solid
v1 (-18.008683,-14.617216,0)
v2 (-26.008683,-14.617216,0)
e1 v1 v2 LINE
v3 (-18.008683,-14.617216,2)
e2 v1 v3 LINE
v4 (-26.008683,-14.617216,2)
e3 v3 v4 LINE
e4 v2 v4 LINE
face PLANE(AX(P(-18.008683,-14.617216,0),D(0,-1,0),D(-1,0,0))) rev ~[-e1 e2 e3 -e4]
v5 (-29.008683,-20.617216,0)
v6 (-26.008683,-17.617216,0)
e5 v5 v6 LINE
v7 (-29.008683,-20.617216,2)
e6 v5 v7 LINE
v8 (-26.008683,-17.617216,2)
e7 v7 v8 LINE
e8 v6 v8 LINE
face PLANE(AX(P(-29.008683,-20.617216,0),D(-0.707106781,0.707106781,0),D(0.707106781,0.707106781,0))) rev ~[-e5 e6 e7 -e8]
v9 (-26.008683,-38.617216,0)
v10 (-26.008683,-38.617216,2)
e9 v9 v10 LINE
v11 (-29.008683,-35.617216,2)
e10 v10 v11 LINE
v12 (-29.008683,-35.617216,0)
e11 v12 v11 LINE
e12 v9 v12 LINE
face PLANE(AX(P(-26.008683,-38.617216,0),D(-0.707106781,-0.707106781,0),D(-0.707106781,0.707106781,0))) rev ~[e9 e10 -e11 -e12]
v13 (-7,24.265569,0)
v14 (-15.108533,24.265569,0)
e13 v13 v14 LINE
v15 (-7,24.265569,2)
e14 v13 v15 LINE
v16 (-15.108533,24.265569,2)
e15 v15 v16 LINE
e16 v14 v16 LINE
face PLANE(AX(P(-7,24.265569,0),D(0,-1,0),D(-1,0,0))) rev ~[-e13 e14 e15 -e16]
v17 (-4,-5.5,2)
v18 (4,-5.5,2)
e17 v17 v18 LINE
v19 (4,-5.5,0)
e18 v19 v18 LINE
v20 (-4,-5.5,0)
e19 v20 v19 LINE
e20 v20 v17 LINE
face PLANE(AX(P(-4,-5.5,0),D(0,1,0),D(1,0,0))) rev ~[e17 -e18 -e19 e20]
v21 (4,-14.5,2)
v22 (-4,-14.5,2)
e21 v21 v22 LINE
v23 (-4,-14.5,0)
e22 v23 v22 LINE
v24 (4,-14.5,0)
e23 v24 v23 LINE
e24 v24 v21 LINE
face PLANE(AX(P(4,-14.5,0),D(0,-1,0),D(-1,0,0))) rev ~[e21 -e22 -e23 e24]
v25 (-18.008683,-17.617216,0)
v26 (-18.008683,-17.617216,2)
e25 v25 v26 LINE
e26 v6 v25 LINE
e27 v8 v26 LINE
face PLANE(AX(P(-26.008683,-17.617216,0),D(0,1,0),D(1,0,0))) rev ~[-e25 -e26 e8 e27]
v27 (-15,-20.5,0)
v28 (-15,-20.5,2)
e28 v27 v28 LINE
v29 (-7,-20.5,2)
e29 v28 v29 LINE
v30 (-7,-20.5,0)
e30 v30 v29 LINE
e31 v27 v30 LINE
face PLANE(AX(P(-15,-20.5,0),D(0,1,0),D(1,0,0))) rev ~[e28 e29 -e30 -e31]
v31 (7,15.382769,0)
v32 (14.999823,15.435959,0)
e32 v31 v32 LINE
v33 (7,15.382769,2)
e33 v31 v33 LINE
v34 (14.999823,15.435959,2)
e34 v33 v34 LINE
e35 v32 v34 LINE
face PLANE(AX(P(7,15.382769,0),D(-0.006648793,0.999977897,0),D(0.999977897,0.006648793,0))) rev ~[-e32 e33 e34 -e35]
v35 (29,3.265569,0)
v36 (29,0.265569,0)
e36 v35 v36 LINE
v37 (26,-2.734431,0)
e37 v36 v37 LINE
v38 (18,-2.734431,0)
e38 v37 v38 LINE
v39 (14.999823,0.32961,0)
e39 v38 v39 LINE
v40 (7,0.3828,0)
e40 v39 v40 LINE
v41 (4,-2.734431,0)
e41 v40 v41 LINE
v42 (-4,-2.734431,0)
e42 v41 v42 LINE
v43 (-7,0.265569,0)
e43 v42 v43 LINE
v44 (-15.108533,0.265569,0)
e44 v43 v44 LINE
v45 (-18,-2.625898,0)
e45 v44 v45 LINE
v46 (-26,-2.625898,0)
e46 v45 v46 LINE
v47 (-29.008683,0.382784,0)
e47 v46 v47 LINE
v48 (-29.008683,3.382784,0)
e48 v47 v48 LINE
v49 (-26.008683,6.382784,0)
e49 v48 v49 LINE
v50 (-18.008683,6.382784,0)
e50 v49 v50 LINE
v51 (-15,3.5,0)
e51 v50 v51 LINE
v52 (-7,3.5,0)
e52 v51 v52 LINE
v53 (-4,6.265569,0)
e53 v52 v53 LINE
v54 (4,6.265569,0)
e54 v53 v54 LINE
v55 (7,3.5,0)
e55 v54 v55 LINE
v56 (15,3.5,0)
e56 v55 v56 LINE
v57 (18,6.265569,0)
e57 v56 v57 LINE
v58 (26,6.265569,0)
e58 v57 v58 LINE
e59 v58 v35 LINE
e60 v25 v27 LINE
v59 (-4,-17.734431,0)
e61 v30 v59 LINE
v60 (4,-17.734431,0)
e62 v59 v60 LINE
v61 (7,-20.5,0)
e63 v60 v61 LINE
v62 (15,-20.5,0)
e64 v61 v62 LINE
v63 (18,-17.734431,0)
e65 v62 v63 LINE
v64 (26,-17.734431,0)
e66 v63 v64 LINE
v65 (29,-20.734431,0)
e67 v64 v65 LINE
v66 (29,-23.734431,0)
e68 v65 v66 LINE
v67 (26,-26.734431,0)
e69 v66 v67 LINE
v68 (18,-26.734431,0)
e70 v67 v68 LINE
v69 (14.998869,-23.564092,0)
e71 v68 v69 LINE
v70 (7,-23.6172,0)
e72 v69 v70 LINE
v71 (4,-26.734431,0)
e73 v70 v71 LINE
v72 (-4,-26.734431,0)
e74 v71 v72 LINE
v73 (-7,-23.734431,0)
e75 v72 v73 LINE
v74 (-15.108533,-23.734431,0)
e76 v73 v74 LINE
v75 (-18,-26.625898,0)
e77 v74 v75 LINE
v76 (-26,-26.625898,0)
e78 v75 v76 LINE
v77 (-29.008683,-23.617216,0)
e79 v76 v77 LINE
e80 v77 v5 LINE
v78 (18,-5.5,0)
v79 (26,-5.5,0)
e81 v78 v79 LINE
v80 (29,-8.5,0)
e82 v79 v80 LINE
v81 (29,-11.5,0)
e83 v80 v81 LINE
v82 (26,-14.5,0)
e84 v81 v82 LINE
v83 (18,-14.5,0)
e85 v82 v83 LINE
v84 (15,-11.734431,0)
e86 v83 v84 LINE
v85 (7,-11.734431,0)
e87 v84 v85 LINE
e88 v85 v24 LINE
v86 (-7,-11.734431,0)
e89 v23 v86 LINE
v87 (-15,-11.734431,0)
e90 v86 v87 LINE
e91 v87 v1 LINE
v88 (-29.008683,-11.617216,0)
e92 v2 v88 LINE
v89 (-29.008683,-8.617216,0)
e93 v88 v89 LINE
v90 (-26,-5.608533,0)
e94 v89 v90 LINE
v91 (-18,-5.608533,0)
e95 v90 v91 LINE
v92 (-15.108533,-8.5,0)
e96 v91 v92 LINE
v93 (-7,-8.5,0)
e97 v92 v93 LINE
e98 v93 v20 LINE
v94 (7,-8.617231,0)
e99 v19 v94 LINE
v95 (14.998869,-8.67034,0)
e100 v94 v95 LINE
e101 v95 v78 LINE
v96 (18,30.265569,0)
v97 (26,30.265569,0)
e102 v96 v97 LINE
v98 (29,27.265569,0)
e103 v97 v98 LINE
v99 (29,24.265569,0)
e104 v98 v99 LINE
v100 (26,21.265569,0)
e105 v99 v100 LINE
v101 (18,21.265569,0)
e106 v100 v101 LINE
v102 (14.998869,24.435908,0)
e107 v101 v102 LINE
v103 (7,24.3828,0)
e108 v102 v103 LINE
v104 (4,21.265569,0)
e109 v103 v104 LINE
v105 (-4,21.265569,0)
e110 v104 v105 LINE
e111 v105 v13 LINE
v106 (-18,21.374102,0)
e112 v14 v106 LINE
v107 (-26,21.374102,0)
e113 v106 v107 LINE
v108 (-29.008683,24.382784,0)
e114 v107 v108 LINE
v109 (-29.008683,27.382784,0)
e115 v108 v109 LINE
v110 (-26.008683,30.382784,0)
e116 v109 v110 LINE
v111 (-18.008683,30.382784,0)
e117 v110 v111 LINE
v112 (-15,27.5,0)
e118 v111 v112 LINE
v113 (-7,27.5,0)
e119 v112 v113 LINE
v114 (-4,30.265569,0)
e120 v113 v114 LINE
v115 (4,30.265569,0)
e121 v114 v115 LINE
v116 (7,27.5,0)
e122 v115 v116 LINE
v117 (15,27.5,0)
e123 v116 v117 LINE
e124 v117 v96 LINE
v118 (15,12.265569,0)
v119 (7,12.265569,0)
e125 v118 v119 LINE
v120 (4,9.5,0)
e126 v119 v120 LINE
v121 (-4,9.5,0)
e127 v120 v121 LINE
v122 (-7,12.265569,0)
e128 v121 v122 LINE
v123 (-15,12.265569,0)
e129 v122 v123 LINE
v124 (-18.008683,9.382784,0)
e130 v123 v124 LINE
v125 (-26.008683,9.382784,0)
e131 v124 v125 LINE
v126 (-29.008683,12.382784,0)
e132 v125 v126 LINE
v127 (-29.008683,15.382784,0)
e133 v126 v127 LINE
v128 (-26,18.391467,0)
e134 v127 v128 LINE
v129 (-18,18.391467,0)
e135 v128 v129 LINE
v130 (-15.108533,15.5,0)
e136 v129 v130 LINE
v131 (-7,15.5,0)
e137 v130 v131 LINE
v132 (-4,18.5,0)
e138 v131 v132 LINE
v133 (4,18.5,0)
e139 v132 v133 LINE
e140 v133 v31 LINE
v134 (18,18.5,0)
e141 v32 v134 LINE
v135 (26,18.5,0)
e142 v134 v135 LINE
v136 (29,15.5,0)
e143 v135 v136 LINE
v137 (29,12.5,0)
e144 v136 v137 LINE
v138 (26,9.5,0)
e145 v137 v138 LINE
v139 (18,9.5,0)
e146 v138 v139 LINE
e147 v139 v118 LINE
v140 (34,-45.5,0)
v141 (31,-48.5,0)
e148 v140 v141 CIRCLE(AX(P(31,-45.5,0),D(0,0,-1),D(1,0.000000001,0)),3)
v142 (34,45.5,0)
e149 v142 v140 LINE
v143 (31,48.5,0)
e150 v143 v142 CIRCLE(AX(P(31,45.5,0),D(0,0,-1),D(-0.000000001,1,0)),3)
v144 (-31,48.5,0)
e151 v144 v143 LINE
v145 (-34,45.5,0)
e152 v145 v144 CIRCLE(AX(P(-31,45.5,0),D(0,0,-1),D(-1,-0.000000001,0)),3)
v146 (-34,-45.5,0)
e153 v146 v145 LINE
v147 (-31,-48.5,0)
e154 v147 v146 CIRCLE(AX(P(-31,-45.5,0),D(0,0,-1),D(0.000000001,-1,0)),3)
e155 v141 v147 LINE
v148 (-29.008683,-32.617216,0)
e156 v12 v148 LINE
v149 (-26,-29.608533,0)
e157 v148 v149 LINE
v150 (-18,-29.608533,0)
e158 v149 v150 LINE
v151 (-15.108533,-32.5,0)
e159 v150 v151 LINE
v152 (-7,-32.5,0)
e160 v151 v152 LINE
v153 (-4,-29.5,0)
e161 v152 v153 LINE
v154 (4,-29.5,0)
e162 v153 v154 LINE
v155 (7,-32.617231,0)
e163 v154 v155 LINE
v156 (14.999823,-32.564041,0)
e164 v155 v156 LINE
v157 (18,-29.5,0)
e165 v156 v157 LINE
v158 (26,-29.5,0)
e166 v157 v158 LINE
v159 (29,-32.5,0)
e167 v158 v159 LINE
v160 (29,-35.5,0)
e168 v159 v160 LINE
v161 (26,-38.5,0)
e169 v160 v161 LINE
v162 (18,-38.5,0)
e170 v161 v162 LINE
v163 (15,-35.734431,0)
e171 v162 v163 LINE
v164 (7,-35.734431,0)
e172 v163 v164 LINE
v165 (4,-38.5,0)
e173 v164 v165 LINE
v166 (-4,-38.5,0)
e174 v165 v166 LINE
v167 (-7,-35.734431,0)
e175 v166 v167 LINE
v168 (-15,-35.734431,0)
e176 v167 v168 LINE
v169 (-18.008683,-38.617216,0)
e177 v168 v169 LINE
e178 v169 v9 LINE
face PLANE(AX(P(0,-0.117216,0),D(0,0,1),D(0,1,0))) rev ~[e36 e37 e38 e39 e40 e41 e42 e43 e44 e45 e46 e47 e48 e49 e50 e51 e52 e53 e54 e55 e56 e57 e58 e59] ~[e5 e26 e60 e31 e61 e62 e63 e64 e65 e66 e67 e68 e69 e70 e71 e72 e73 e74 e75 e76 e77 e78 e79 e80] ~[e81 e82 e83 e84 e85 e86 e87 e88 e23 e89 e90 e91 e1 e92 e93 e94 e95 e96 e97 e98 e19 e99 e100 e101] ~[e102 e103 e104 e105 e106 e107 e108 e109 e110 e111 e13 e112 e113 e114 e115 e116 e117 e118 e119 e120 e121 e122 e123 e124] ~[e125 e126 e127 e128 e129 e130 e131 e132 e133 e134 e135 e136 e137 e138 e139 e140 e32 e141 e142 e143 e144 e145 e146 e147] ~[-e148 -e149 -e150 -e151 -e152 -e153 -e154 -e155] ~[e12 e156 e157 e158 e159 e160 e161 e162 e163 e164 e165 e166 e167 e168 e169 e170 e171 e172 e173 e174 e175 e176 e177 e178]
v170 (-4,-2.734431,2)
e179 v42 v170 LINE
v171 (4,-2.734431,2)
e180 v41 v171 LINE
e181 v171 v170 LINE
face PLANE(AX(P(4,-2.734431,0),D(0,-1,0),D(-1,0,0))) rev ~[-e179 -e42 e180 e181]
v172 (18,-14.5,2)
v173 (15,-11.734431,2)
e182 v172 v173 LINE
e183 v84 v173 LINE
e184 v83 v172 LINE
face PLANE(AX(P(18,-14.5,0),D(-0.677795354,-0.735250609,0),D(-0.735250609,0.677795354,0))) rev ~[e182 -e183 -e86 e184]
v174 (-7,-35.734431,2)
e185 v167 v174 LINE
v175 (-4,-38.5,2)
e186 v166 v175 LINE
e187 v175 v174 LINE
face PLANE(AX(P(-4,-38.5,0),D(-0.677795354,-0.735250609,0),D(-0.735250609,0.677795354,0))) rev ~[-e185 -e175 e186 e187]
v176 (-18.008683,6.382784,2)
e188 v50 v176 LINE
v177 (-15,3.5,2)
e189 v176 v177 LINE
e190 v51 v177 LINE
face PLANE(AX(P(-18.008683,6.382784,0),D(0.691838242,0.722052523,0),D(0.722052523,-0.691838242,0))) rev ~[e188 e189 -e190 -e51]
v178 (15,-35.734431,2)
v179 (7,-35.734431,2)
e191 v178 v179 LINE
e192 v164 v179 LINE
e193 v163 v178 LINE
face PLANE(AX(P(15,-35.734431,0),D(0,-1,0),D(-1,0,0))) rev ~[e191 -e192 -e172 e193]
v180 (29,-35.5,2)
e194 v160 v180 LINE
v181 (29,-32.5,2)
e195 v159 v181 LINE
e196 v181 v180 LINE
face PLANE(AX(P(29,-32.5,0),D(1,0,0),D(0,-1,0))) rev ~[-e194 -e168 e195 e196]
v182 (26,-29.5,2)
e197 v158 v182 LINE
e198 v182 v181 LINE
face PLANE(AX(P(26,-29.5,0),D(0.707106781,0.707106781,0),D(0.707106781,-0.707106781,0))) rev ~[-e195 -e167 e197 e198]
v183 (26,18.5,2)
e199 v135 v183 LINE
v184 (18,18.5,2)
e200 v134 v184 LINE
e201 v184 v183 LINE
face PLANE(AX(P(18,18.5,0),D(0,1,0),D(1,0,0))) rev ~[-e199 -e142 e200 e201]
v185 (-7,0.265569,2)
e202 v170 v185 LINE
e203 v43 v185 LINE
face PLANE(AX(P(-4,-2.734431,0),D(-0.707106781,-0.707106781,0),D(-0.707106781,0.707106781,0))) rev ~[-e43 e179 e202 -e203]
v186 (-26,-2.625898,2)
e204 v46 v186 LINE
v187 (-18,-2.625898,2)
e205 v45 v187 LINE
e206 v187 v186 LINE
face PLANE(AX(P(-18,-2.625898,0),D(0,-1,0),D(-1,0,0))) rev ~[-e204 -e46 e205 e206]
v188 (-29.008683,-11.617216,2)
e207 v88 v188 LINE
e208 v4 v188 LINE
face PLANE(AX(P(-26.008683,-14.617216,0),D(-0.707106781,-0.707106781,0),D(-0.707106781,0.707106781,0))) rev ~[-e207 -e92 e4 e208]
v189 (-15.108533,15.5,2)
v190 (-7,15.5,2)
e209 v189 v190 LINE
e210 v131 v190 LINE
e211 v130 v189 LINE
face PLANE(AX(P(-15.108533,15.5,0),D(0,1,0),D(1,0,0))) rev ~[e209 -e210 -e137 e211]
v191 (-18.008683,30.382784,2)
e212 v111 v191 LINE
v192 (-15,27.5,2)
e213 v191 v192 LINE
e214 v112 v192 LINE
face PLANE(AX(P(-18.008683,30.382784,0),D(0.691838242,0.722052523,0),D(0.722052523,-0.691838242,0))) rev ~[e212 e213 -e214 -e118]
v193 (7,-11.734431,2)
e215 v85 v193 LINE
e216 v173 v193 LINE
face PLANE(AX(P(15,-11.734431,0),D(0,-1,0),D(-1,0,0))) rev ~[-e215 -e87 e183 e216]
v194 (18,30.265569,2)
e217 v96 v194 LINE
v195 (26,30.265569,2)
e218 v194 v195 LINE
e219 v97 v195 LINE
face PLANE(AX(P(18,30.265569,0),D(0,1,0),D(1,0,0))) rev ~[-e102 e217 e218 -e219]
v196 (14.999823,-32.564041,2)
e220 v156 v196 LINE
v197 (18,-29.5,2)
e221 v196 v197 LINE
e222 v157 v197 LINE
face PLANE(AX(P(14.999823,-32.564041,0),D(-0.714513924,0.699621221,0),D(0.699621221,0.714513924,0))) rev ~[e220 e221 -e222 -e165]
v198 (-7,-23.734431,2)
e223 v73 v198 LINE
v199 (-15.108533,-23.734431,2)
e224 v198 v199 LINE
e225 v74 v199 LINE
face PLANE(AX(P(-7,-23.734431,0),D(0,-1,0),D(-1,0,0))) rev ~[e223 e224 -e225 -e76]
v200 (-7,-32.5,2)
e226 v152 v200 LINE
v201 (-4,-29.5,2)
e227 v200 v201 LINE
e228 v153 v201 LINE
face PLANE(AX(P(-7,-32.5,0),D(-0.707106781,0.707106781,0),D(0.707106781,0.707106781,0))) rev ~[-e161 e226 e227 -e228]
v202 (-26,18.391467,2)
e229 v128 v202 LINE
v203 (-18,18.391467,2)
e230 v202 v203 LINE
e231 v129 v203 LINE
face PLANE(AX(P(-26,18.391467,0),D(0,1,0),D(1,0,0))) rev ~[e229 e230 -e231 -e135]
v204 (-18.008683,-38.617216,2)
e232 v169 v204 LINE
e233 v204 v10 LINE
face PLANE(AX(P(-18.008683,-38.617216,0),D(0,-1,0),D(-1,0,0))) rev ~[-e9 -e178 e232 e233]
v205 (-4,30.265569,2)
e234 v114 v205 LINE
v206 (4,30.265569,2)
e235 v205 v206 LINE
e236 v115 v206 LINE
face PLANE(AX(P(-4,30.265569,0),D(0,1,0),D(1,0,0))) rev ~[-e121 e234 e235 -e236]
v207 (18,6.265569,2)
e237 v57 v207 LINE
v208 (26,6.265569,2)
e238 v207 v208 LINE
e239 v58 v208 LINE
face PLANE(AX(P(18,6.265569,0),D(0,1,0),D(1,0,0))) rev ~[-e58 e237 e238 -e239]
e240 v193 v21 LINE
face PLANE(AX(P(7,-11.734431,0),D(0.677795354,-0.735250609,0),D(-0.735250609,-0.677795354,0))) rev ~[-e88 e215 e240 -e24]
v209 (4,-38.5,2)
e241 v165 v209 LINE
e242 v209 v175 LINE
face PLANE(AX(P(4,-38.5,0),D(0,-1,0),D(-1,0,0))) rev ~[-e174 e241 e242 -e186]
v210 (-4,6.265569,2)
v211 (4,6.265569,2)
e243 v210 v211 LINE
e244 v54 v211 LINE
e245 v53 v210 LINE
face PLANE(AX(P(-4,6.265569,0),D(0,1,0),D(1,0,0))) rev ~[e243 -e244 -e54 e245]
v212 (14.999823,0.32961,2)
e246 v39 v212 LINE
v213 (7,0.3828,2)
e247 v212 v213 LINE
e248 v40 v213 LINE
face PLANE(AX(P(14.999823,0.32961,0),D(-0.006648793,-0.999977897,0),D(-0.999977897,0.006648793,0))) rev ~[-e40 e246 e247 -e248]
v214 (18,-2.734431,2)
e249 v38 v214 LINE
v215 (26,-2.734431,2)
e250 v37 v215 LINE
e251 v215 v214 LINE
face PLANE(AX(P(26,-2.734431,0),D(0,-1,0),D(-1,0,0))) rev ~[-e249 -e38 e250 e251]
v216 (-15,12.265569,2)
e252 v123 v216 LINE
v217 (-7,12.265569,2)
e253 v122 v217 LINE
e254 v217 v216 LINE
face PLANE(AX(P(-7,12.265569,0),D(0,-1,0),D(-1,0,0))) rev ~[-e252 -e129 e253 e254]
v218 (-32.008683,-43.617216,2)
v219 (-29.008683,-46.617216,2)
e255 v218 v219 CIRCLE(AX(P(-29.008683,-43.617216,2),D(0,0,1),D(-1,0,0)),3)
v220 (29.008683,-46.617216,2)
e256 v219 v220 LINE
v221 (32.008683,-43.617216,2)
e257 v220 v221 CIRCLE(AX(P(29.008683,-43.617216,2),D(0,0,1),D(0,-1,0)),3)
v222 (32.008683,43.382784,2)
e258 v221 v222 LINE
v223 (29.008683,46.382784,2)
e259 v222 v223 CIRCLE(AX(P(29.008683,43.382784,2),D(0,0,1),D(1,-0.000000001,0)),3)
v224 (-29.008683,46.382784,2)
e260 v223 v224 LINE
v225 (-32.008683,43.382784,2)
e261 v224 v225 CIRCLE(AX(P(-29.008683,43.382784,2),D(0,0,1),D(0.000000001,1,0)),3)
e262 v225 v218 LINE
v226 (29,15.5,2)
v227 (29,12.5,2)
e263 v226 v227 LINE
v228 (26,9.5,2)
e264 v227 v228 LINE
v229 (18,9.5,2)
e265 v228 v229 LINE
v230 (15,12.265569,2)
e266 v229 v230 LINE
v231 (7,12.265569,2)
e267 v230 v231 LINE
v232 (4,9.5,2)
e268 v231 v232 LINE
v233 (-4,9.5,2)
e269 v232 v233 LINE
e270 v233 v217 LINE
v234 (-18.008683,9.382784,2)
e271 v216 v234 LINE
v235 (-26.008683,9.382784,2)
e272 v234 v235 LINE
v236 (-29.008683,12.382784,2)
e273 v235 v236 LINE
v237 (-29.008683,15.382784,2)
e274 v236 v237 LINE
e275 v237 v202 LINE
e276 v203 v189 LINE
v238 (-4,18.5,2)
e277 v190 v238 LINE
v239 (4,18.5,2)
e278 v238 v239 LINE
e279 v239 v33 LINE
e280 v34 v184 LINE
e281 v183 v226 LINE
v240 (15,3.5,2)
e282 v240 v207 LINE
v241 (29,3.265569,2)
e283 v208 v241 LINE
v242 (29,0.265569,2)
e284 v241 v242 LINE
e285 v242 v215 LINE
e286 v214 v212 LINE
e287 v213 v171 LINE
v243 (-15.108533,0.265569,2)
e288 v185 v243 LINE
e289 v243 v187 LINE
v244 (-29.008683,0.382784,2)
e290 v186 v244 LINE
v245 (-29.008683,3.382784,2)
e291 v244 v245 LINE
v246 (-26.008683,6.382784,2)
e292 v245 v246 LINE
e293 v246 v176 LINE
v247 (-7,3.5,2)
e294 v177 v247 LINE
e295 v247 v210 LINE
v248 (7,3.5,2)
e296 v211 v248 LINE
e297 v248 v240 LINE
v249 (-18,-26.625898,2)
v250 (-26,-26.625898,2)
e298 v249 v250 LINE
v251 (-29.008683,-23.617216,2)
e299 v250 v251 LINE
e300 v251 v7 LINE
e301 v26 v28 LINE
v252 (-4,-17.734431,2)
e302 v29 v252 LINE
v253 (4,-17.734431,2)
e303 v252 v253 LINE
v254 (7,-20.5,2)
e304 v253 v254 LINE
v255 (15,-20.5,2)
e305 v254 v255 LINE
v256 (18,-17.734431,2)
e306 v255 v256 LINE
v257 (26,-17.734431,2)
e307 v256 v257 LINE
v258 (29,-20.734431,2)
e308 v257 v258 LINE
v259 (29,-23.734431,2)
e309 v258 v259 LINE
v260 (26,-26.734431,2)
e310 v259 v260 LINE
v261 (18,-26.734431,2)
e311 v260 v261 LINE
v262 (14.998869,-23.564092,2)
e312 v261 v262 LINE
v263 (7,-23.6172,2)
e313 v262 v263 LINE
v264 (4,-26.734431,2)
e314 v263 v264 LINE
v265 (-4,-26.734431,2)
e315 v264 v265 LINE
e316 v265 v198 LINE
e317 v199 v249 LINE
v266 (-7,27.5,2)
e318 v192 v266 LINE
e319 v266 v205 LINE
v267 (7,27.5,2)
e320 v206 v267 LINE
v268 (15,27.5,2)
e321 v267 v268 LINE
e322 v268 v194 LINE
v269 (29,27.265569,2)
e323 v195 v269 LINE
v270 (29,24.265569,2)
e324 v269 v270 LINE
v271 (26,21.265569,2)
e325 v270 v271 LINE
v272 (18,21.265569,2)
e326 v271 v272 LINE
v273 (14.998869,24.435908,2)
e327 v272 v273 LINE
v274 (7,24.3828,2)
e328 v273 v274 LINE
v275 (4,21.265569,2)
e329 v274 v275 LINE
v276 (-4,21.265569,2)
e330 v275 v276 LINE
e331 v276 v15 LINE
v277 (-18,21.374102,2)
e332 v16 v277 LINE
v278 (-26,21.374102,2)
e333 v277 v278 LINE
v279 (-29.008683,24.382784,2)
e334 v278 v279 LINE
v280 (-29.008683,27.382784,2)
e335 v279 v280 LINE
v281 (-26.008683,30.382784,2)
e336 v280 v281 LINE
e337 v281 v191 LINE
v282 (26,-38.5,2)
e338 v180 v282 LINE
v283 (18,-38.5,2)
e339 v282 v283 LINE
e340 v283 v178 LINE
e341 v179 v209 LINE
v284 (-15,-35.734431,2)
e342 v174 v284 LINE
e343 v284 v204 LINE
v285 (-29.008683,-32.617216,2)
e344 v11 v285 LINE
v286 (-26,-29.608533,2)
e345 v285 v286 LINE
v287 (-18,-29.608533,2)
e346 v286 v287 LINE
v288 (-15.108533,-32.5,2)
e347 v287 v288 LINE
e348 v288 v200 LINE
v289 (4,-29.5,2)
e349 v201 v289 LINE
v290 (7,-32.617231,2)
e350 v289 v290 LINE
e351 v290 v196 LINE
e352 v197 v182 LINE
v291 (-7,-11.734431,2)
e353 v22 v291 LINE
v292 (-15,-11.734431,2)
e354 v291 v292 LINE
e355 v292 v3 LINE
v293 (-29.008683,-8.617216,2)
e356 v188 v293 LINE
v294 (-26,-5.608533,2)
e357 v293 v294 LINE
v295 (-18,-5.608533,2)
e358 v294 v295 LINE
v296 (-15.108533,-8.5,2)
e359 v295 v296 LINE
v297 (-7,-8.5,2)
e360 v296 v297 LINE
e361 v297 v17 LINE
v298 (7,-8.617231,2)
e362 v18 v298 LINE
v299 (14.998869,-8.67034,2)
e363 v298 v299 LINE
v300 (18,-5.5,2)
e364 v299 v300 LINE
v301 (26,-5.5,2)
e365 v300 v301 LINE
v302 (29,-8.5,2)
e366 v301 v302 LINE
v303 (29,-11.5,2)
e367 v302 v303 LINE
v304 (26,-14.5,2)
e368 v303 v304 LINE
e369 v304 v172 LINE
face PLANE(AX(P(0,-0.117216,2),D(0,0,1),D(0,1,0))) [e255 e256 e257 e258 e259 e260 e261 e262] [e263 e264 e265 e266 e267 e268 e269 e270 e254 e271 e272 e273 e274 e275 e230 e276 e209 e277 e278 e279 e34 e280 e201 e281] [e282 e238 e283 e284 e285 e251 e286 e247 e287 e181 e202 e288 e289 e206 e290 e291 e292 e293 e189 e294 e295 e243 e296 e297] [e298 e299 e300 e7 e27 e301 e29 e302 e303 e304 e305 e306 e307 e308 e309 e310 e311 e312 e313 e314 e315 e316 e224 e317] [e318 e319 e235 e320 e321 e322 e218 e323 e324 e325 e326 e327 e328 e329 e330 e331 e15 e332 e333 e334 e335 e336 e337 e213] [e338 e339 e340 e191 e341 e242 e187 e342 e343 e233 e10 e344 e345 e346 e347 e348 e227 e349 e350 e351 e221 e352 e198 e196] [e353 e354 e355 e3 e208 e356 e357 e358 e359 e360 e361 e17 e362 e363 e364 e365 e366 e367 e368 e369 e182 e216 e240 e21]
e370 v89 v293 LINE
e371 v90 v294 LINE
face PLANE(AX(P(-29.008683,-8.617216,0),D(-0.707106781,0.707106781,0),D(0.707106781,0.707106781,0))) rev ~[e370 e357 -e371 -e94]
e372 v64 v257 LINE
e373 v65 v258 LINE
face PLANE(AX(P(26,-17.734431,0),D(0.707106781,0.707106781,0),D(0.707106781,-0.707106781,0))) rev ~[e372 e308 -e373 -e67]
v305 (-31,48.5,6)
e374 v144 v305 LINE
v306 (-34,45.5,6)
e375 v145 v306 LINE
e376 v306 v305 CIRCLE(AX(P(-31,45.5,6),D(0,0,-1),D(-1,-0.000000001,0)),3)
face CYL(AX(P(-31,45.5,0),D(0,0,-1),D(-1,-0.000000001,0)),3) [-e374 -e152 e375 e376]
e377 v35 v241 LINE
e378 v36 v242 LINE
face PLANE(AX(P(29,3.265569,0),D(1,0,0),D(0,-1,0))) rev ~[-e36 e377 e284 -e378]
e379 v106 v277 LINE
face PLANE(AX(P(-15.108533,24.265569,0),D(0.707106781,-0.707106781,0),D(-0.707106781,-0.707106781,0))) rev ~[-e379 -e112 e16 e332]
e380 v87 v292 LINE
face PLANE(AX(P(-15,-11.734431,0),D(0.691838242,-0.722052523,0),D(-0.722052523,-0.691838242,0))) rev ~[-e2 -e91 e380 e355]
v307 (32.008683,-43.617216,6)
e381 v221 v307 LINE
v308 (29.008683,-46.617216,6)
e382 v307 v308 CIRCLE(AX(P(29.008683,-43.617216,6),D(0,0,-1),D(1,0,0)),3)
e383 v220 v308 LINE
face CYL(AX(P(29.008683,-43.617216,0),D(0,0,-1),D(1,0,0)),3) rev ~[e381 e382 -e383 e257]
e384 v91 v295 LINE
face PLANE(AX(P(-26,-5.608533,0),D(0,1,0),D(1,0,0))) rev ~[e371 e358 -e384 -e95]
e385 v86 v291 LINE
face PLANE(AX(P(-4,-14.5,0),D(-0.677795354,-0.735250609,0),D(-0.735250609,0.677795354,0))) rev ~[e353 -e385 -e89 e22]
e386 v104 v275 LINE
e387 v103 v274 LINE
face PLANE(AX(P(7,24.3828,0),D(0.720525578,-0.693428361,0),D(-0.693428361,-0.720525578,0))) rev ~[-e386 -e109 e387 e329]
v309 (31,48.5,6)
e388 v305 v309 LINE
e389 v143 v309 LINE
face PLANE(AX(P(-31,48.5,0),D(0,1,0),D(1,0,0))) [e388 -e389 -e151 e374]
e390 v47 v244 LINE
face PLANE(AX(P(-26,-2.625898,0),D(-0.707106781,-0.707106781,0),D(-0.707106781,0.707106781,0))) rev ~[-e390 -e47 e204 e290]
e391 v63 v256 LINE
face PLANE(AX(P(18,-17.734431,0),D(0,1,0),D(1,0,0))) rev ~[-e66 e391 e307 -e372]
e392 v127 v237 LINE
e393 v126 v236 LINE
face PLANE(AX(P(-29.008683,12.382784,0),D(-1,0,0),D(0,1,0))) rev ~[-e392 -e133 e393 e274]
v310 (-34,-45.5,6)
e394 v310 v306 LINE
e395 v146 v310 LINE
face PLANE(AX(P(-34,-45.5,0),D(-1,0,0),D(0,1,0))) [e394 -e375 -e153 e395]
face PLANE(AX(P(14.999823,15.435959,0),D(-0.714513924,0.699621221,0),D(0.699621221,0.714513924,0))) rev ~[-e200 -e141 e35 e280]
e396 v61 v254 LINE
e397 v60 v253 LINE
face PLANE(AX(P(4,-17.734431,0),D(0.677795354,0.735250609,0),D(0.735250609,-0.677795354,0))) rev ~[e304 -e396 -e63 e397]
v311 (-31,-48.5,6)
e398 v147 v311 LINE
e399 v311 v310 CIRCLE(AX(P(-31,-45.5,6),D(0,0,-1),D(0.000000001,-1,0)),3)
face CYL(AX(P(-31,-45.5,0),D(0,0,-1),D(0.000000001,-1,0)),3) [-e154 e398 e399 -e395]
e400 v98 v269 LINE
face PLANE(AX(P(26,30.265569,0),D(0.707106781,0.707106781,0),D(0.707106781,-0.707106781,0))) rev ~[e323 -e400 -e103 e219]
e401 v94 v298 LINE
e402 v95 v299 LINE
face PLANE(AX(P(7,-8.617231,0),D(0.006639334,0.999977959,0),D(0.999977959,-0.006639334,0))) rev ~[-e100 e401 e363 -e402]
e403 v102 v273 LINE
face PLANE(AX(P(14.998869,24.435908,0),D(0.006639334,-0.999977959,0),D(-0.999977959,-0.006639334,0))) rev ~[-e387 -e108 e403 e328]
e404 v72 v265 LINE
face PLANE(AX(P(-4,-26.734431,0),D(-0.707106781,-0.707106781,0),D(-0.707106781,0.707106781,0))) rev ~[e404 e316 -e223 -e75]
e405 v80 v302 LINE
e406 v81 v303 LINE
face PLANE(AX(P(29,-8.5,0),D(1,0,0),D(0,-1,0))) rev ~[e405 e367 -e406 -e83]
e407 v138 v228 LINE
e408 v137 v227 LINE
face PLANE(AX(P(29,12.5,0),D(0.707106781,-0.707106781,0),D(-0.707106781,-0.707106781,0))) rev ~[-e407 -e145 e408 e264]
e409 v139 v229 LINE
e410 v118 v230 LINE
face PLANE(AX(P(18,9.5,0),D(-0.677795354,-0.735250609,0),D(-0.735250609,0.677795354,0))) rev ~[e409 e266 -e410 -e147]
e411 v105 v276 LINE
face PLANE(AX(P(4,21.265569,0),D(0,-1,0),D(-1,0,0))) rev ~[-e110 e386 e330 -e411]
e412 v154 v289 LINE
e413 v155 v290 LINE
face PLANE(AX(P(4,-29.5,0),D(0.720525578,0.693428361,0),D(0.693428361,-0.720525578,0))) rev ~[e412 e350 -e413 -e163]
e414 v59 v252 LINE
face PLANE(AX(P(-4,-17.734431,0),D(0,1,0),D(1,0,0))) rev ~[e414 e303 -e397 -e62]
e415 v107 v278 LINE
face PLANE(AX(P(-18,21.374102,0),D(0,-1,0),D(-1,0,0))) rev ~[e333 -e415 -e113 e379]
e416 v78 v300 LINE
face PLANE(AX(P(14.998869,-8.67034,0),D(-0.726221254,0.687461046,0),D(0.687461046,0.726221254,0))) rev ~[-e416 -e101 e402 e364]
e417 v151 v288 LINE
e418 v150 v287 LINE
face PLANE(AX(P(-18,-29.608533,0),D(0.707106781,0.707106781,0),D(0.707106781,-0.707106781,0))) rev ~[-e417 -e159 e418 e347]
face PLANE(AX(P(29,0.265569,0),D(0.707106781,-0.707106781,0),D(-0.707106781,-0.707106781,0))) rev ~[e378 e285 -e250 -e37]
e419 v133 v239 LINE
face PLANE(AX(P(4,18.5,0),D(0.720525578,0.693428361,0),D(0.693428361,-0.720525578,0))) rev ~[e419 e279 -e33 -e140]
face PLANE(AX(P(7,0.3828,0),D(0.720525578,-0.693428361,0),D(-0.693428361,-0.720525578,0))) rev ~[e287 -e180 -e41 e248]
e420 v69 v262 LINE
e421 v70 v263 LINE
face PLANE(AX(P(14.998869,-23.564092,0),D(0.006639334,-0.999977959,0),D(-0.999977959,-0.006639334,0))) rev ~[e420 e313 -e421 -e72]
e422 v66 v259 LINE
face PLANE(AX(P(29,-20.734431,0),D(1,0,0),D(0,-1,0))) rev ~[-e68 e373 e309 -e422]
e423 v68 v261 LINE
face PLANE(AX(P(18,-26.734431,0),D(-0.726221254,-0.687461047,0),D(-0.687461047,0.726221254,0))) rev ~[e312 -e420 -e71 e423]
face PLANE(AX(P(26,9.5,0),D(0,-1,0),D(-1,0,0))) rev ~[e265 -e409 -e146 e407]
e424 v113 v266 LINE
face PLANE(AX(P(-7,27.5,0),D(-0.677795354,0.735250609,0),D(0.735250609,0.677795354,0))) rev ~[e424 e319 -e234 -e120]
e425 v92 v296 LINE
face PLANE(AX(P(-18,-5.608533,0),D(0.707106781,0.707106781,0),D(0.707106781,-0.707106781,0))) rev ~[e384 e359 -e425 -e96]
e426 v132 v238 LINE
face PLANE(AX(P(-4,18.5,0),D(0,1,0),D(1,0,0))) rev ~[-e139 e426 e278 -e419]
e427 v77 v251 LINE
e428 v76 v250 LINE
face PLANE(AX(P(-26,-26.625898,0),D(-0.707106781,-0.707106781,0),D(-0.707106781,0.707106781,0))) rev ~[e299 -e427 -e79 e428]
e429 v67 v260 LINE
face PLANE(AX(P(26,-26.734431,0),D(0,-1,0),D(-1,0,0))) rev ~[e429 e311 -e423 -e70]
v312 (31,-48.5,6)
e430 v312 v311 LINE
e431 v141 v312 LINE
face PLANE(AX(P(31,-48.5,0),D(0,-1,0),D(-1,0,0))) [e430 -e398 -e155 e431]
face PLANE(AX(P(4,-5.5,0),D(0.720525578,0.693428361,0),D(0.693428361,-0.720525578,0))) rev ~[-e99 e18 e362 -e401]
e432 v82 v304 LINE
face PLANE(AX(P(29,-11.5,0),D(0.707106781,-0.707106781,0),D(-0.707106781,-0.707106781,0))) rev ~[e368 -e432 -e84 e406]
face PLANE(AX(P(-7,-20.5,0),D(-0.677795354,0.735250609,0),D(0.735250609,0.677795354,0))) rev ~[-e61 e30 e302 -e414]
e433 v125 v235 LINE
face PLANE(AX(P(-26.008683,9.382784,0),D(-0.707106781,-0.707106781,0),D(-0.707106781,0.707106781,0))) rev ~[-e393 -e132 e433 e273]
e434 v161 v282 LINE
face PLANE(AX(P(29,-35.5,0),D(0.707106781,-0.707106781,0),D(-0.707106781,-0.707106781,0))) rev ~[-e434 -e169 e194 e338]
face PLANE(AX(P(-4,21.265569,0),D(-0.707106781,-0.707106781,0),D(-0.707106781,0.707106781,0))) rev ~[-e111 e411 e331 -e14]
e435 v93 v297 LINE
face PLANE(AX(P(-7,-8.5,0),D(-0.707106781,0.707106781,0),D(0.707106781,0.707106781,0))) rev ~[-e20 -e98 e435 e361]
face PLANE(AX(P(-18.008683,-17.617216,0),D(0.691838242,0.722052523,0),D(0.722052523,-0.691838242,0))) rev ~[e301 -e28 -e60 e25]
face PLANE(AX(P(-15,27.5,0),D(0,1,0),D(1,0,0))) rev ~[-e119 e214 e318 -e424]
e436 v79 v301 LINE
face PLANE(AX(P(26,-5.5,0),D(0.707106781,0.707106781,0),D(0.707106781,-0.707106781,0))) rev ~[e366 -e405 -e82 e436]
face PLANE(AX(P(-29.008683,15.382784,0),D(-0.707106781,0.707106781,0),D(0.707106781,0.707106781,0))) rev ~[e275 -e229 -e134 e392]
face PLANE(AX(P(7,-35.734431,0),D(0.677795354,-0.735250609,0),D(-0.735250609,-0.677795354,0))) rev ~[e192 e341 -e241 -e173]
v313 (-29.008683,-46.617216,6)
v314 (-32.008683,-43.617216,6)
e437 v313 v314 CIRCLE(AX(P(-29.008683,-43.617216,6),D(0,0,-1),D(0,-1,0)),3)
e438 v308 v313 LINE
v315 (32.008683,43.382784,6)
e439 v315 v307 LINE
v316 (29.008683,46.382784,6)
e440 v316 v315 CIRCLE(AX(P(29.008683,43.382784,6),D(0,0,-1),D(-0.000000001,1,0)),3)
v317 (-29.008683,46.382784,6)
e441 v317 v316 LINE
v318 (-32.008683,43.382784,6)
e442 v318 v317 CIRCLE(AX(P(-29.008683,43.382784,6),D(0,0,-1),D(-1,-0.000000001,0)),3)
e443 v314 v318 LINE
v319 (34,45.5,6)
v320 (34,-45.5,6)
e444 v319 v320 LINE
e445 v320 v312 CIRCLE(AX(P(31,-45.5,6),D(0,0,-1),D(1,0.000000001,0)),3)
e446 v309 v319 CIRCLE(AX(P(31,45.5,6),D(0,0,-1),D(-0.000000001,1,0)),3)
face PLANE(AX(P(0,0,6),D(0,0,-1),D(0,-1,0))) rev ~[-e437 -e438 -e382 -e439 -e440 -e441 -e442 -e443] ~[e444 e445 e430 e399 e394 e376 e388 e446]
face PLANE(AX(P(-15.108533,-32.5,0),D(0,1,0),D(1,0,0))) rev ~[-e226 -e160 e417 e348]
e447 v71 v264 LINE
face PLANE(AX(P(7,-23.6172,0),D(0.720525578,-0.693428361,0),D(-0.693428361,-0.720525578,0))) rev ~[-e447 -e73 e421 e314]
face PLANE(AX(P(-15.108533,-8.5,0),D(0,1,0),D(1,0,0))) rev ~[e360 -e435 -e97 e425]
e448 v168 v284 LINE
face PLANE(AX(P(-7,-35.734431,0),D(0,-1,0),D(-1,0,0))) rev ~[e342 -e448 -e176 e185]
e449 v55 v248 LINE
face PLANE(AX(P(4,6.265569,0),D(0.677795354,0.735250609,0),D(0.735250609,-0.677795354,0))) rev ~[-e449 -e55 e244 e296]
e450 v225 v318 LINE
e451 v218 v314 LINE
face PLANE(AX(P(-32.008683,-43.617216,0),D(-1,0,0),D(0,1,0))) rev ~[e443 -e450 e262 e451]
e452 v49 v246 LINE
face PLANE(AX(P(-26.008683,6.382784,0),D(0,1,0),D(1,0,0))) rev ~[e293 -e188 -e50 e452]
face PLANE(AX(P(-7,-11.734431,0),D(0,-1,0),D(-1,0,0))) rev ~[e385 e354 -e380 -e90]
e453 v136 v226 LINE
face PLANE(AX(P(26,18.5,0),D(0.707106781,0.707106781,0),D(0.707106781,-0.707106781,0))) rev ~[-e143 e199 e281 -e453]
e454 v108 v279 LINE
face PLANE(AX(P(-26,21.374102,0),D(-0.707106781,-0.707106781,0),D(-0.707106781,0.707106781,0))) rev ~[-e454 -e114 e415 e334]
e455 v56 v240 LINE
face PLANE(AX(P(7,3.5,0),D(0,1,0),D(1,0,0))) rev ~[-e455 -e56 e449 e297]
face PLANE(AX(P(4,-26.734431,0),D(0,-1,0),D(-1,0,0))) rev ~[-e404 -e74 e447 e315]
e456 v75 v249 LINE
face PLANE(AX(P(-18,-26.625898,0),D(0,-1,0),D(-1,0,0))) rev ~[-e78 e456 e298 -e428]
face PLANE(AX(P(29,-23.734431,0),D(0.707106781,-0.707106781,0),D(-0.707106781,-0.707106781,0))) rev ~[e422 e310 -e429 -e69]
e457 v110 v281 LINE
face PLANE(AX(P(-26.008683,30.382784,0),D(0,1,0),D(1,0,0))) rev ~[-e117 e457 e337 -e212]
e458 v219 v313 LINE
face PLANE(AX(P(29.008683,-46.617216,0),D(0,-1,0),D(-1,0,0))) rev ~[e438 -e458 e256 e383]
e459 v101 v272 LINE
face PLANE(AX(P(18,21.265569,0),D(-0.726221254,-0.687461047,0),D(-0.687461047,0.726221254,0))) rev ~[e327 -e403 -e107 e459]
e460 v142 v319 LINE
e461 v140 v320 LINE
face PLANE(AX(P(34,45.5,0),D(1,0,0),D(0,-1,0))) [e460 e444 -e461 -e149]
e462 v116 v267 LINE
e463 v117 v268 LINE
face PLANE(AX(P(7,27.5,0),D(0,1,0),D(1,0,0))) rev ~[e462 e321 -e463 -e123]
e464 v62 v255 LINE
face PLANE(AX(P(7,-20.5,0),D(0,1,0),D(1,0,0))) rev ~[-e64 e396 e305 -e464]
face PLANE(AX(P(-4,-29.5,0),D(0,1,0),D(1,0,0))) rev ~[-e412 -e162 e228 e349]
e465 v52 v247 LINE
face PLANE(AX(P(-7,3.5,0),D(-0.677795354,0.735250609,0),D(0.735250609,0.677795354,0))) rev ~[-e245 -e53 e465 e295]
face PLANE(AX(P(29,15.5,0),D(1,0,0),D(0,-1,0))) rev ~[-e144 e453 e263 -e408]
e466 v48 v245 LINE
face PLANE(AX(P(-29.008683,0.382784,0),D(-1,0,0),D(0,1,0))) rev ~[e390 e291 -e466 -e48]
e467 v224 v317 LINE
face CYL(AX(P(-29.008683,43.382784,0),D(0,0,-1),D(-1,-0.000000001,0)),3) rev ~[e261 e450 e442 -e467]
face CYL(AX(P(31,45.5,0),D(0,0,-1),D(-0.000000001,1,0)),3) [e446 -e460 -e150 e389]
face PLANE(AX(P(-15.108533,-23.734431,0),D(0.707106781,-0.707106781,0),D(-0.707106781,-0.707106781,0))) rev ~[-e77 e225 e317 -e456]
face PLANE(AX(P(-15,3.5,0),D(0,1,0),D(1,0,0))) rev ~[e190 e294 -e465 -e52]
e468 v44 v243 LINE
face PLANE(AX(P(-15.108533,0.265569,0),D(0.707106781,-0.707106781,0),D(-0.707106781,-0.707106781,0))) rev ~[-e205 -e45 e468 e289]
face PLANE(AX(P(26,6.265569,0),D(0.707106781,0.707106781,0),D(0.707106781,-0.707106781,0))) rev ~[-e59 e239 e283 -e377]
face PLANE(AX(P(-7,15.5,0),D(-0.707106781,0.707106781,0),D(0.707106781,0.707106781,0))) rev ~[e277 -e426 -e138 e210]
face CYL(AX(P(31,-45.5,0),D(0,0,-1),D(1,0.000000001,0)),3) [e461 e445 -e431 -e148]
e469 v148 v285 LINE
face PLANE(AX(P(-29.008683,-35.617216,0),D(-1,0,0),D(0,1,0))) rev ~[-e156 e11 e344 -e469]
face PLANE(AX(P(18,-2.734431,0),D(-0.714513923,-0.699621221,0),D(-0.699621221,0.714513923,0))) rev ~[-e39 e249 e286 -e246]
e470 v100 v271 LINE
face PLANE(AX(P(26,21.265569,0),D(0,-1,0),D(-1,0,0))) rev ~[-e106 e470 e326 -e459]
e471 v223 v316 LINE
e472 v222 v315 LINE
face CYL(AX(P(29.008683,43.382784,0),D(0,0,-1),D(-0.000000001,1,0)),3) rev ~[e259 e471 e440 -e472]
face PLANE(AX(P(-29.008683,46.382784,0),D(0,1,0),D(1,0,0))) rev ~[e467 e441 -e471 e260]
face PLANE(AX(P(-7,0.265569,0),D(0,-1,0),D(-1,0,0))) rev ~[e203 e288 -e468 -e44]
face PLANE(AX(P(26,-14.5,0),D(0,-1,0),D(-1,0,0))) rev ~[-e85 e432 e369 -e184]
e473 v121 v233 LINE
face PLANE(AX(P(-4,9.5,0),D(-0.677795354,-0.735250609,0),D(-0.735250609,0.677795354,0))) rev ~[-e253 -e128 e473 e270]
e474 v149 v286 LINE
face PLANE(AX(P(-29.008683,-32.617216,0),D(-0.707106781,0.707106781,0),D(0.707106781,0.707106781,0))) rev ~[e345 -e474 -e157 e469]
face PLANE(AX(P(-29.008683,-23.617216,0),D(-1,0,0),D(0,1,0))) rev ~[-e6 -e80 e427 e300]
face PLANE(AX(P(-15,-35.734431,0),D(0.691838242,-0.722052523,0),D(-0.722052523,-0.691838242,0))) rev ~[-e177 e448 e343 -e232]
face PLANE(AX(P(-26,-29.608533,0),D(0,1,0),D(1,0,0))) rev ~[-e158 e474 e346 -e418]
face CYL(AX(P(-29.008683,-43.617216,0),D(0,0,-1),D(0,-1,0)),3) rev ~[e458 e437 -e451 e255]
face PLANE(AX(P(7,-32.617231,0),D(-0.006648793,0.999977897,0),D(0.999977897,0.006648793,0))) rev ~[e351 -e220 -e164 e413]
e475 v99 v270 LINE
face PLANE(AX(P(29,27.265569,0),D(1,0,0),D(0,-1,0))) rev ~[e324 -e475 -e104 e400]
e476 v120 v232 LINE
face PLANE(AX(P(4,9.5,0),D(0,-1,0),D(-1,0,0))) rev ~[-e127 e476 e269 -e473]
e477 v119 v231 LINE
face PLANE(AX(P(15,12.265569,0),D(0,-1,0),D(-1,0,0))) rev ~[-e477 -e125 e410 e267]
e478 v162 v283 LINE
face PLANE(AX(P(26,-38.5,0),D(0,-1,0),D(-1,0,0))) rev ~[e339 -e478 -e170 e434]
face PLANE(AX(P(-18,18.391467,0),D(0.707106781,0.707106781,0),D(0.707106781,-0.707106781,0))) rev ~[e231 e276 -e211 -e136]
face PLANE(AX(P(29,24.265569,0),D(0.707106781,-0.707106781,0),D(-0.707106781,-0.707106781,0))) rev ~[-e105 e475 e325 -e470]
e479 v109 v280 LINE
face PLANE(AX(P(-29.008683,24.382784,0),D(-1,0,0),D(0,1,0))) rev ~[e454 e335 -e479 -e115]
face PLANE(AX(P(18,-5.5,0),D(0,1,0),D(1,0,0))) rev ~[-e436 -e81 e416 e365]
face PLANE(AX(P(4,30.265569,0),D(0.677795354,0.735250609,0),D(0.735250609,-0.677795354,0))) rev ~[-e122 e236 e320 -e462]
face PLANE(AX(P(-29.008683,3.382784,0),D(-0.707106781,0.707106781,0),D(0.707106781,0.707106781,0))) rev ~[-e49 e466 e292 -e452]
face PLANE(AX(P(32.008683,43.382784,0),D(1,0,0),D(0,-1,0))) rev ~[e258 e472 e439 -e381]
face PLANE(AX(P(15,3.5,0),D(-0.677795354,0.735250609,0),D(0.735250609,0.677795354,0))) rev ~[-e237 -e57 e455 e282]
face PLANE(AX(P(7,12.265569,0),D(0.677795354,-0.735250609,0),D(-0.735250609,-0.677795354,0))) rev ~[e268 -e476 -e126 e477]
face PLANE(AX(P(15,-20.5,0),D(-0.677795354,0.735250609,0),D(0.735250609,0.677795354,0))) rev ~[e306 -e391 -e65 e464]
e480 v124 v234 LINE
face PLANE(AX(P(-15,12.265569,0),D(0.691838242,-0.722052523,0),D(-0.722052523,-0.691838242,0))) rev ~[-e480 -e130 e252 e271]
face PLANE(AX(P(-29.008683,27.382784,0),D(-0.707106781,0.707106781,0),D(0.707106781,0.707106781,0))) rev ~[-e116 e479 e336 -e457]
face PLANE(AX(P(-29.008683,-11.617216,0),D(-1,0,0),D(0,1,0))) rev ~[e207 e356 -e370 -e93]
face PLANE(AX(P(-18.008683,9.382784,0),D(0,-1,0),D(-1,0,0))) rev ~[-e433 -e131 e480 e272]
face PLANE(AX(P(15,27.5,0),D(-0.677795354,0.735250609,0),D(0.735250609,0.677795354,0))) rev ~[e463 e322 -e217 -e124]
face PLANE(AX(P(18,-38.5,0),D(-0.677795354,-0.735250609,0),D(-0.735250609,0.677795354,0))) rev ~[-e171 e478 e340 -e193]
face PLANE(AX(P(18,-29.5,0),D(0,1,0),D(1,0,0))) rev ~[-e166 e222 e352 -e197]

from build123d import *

# Parameters (mm, degrees)
BOSS_EXTRUDE1_DEPTH = 6
BOSS_EXTRUDE2_DEPTH = 2


with BuildPart() as part:
    # Sketch1 → Boss-Extrude1 (new body)
    with BuildSketch(Plane(origin=(0, 0, 0), x_dir=(0, 1, 0), z_dir=(0, 0, 1))):
        with BuildLine():
            Line((-45.5, -34), (45.5, -34))
            ThreePointArc((45.5, -34), (47.621320344, -33.121320344), (48.5, -31))
            Line((48.5, -31), (48.5, 31))
            ThreePointArc((48.5, 31), (47.621320344, 33.121320344), (45.5, 34))
            Line((45.5, 34), (-45.5, 34))
            ThreePointArc((-45.5, 34), (-47.621320344, 33.121320344), (-48.5, 31))
            Line((-48.5, 31), (-48.5, -31))
            ThreePointArc((-48.5, -31), (-47.621320344, -33.121320344), (-45.5, -34))
        make_face()
        with BuildLine():
            Line((46.382784344, 29.008682641), (46.382784344, -29.008682641))
            ThreePointArc((46.382784344, -29.008682641), (45.504104688, -31.130002985), (43.382784344, -32.008682641))
            Line((43.382784344, -32.008682641), (-43.617215656, -32.008682641))
            ThreePointArc((-43.617215656, -32.008682641), (-45.738535999, -31.130002985), (-46.617215656, -29.008682641))
            Line((-46.617215656, -29.008682641), (-46.617215656, 29.008682641))
            ThreePointArc((-46.617215656, 29.008682641), (-45.738535999, 31.130002985), (-43.617215656, 32.008682641))
            Line((-43.617215656, 32.008682641), (43.382784344, 32.008682641))
            ThreePointArc((43.382784344, 32.008682641), (45.504104688, 31.130002985), (46.382784344, 29.008682641))
        make_face(mode=Mode.SUBTRACT)
    extrude(amount=BOSS_EXTRUDE1_DEPTH)

    # Sketch1<3> → Boss-Extrude2 (add)
    with BuildSketch(Plane(origin=(0, 0, 0), x_dir=(0, 1, 0), z_dir=(0, 0, 1))):
        with BuildLine():
            ThreePointArc((43.382784344, -32.008682641), (45.504104688, -31.130002985), (46.382784344, -29.008682641))
            Line((46.382784344, -29.008682641), (46.382784344, 29.008682641))
            ThreePointArc((46.382784344, 29.008682641), (45.504104688, 31.130002985), (43.382784344, 32.008682641))
            Line((43.382784344, 32.008682641), (-43.617215656, 32.008682641))
            ThreePointArc((-43.617215656, 32.008682641), (-45.738535999, 31.130002985), (-46.617215656, 29.008682641))
            Line((-46.617215656, 29.008682641), (-46.617215656, -29.008682641))
            ThreePointArc((-46.617215656, -29.008682641), (-45.738535999, -31.130002985), (-43.617215656, -32.008682641))
            Line((-43.617215656, -32.008682641), (43.382784344, -32.008682641))
        make_face()
        Polygon((-38.617215656, 18.008682641), (-38.617215656, 26.008682641), (-35.617215656, 29.008682641), (-32.617215656, 29.008682641), (-29.608533015, 26), (-29.608533015, 18), (-32.5, 15.108533015), (-32.5, 7), (-29.5, 4), (-29.5, -4), (-32.617231433, -6.999999928), (-32.564041089, -14.9998231), (-29.5, -18), (-29.5, -26), (-32.5, -29), (-35.5, -29), (-38.5, -26), (-38.5, -18), (-35.734431311, -15), (-35.734431311, -7), (-38.5, -4), (-38.5, 4), (-35.734431311, 7), (-35.734431311, 15), align=None, mode=Mode.SUBTRACT)
        Polygon((-17.734431311, -26), (-20.734431311, -29), (-23.734431311, -29), (-26.734431311, -26), (-26.734431311, -18), (-23.564091544, -14.998869032), (-23.617199878, -6.999999928), (-26.734431311, -4), (-26.734431311, 4), (-23.734431311, 7), (-23.734431311, 15.108533015), (-26.625898297, 18), (-26.625898297, 26), (-23.617215656, 29.008682641), (-20.617215656, 29.008682641), (-17.617215656, 26.008682641), (-17.617215656, 18.008682641), (-20.5, 15), (-20.5, 7), (-17.734431311, 4), (-17.734431311, -4), (-20.5, -7), (-20.5, -15), (-17.734431311, -18), align=None, mode=Mode.SUBTRACT)
        Polygon((-5.5, -4), (-8.617231433, -6.999999928), (-8.670339768, -14.998869032), (-5.5, -18), (-5.5, -26), (-8.5, -29), (-11.5, -29), (-14.5, -26), (-14.5, -18), (-11.734431311, -15), (-11.734431311, -7), (-14.5, -4), (-14.5, 4), (-11.734431311, 7), (-11.734431311, 15), (-14.617215656, 18.008682641), (-14.617215656, 26.008682641), (-11.617215656, 29.008682641), (-8.617215656, 29.008682641), (-5.608533015, 26), (-5.608533015, 18), (-8.5, 15.108533015), (-8.5, 7), (-5.5, 4), align=None, mode=Mode.SUBTRACT)
        Polygon((3.265568689, -29), (0.265568689, -29), (-2.734431311, -26), (-2.734431311, -18), (0.329609777, -14.9998231), (0.382800122, -6.999999928), (-2.734431311, -4), (-2.734431311, 4), (0.265568689, 7), (0.265568689, 15.108533015), (-2.625898297, 18), (-2.625898297, 26), (0.382784344, 29.008682641), (3.382784344, 29.008682641), (6.382784344, 26.008682641), (6.382784344, 18.008682641), (3.5, 15), (3.5, 7), (6.265568689, 4), (6.265568689, -4), (3.5, -7), (3.5, -15), (6.265568689, -18), (6.265568689, -26), align=None, mode=Mode.SUBTRACT)
        Polygon((15.5, -29), (12.5, -29), (9.5, -26), (9.5, -18), (12.265568689, -15), (12.265568689, -7), (9.5, -4), (9.5, 4), (12.265568689, 7), (12.265568689, 15), (9.382784344, 18.008682641), (9.382784344, 26.008682641), (12.382784344, 29.008682641), (15.382784344, 29.008682641), (18.391466985, 26), (18.391466985, 18), (15.5, 15.108533015), (15.5, 7), (18.5, 4), (18.5, -4), (15.382768567, -6.999999928), (15.435958911, -14.9998231), (18.5, -18), (18.5, -26), align=None, mode=Mode.SUBTRACT)
        Polygon((30.265568689, -26), (27.265568689, -29), (24.265568689, -29), (21.265568689, -26), (21.265568689, -18), (24.435908456, -14.998869032), (24.382800122, -6.999999928), (21.265568689, -4), (21.265568689, 4), (24.265568689, 7), (24.265568689, 15.108533015), (21.374101703, 18), (21.374101703, 26), (24.382784344, 29.008682641), (27.382784344, 29.008682641), (30.382784344, 26.008682641), (30.382784344, 18.008682641), (27.5, 15), (27.5, 7), (30.265568689, 4), (30.265568689, -4), (27.5, -7), (27.5, -15), (30.265568689, -18), align=None, mode=Mode.SUBTRACT)
    extrude(amount=BOSS_EXTRUDE2_DEPTH)


solid = part.part
